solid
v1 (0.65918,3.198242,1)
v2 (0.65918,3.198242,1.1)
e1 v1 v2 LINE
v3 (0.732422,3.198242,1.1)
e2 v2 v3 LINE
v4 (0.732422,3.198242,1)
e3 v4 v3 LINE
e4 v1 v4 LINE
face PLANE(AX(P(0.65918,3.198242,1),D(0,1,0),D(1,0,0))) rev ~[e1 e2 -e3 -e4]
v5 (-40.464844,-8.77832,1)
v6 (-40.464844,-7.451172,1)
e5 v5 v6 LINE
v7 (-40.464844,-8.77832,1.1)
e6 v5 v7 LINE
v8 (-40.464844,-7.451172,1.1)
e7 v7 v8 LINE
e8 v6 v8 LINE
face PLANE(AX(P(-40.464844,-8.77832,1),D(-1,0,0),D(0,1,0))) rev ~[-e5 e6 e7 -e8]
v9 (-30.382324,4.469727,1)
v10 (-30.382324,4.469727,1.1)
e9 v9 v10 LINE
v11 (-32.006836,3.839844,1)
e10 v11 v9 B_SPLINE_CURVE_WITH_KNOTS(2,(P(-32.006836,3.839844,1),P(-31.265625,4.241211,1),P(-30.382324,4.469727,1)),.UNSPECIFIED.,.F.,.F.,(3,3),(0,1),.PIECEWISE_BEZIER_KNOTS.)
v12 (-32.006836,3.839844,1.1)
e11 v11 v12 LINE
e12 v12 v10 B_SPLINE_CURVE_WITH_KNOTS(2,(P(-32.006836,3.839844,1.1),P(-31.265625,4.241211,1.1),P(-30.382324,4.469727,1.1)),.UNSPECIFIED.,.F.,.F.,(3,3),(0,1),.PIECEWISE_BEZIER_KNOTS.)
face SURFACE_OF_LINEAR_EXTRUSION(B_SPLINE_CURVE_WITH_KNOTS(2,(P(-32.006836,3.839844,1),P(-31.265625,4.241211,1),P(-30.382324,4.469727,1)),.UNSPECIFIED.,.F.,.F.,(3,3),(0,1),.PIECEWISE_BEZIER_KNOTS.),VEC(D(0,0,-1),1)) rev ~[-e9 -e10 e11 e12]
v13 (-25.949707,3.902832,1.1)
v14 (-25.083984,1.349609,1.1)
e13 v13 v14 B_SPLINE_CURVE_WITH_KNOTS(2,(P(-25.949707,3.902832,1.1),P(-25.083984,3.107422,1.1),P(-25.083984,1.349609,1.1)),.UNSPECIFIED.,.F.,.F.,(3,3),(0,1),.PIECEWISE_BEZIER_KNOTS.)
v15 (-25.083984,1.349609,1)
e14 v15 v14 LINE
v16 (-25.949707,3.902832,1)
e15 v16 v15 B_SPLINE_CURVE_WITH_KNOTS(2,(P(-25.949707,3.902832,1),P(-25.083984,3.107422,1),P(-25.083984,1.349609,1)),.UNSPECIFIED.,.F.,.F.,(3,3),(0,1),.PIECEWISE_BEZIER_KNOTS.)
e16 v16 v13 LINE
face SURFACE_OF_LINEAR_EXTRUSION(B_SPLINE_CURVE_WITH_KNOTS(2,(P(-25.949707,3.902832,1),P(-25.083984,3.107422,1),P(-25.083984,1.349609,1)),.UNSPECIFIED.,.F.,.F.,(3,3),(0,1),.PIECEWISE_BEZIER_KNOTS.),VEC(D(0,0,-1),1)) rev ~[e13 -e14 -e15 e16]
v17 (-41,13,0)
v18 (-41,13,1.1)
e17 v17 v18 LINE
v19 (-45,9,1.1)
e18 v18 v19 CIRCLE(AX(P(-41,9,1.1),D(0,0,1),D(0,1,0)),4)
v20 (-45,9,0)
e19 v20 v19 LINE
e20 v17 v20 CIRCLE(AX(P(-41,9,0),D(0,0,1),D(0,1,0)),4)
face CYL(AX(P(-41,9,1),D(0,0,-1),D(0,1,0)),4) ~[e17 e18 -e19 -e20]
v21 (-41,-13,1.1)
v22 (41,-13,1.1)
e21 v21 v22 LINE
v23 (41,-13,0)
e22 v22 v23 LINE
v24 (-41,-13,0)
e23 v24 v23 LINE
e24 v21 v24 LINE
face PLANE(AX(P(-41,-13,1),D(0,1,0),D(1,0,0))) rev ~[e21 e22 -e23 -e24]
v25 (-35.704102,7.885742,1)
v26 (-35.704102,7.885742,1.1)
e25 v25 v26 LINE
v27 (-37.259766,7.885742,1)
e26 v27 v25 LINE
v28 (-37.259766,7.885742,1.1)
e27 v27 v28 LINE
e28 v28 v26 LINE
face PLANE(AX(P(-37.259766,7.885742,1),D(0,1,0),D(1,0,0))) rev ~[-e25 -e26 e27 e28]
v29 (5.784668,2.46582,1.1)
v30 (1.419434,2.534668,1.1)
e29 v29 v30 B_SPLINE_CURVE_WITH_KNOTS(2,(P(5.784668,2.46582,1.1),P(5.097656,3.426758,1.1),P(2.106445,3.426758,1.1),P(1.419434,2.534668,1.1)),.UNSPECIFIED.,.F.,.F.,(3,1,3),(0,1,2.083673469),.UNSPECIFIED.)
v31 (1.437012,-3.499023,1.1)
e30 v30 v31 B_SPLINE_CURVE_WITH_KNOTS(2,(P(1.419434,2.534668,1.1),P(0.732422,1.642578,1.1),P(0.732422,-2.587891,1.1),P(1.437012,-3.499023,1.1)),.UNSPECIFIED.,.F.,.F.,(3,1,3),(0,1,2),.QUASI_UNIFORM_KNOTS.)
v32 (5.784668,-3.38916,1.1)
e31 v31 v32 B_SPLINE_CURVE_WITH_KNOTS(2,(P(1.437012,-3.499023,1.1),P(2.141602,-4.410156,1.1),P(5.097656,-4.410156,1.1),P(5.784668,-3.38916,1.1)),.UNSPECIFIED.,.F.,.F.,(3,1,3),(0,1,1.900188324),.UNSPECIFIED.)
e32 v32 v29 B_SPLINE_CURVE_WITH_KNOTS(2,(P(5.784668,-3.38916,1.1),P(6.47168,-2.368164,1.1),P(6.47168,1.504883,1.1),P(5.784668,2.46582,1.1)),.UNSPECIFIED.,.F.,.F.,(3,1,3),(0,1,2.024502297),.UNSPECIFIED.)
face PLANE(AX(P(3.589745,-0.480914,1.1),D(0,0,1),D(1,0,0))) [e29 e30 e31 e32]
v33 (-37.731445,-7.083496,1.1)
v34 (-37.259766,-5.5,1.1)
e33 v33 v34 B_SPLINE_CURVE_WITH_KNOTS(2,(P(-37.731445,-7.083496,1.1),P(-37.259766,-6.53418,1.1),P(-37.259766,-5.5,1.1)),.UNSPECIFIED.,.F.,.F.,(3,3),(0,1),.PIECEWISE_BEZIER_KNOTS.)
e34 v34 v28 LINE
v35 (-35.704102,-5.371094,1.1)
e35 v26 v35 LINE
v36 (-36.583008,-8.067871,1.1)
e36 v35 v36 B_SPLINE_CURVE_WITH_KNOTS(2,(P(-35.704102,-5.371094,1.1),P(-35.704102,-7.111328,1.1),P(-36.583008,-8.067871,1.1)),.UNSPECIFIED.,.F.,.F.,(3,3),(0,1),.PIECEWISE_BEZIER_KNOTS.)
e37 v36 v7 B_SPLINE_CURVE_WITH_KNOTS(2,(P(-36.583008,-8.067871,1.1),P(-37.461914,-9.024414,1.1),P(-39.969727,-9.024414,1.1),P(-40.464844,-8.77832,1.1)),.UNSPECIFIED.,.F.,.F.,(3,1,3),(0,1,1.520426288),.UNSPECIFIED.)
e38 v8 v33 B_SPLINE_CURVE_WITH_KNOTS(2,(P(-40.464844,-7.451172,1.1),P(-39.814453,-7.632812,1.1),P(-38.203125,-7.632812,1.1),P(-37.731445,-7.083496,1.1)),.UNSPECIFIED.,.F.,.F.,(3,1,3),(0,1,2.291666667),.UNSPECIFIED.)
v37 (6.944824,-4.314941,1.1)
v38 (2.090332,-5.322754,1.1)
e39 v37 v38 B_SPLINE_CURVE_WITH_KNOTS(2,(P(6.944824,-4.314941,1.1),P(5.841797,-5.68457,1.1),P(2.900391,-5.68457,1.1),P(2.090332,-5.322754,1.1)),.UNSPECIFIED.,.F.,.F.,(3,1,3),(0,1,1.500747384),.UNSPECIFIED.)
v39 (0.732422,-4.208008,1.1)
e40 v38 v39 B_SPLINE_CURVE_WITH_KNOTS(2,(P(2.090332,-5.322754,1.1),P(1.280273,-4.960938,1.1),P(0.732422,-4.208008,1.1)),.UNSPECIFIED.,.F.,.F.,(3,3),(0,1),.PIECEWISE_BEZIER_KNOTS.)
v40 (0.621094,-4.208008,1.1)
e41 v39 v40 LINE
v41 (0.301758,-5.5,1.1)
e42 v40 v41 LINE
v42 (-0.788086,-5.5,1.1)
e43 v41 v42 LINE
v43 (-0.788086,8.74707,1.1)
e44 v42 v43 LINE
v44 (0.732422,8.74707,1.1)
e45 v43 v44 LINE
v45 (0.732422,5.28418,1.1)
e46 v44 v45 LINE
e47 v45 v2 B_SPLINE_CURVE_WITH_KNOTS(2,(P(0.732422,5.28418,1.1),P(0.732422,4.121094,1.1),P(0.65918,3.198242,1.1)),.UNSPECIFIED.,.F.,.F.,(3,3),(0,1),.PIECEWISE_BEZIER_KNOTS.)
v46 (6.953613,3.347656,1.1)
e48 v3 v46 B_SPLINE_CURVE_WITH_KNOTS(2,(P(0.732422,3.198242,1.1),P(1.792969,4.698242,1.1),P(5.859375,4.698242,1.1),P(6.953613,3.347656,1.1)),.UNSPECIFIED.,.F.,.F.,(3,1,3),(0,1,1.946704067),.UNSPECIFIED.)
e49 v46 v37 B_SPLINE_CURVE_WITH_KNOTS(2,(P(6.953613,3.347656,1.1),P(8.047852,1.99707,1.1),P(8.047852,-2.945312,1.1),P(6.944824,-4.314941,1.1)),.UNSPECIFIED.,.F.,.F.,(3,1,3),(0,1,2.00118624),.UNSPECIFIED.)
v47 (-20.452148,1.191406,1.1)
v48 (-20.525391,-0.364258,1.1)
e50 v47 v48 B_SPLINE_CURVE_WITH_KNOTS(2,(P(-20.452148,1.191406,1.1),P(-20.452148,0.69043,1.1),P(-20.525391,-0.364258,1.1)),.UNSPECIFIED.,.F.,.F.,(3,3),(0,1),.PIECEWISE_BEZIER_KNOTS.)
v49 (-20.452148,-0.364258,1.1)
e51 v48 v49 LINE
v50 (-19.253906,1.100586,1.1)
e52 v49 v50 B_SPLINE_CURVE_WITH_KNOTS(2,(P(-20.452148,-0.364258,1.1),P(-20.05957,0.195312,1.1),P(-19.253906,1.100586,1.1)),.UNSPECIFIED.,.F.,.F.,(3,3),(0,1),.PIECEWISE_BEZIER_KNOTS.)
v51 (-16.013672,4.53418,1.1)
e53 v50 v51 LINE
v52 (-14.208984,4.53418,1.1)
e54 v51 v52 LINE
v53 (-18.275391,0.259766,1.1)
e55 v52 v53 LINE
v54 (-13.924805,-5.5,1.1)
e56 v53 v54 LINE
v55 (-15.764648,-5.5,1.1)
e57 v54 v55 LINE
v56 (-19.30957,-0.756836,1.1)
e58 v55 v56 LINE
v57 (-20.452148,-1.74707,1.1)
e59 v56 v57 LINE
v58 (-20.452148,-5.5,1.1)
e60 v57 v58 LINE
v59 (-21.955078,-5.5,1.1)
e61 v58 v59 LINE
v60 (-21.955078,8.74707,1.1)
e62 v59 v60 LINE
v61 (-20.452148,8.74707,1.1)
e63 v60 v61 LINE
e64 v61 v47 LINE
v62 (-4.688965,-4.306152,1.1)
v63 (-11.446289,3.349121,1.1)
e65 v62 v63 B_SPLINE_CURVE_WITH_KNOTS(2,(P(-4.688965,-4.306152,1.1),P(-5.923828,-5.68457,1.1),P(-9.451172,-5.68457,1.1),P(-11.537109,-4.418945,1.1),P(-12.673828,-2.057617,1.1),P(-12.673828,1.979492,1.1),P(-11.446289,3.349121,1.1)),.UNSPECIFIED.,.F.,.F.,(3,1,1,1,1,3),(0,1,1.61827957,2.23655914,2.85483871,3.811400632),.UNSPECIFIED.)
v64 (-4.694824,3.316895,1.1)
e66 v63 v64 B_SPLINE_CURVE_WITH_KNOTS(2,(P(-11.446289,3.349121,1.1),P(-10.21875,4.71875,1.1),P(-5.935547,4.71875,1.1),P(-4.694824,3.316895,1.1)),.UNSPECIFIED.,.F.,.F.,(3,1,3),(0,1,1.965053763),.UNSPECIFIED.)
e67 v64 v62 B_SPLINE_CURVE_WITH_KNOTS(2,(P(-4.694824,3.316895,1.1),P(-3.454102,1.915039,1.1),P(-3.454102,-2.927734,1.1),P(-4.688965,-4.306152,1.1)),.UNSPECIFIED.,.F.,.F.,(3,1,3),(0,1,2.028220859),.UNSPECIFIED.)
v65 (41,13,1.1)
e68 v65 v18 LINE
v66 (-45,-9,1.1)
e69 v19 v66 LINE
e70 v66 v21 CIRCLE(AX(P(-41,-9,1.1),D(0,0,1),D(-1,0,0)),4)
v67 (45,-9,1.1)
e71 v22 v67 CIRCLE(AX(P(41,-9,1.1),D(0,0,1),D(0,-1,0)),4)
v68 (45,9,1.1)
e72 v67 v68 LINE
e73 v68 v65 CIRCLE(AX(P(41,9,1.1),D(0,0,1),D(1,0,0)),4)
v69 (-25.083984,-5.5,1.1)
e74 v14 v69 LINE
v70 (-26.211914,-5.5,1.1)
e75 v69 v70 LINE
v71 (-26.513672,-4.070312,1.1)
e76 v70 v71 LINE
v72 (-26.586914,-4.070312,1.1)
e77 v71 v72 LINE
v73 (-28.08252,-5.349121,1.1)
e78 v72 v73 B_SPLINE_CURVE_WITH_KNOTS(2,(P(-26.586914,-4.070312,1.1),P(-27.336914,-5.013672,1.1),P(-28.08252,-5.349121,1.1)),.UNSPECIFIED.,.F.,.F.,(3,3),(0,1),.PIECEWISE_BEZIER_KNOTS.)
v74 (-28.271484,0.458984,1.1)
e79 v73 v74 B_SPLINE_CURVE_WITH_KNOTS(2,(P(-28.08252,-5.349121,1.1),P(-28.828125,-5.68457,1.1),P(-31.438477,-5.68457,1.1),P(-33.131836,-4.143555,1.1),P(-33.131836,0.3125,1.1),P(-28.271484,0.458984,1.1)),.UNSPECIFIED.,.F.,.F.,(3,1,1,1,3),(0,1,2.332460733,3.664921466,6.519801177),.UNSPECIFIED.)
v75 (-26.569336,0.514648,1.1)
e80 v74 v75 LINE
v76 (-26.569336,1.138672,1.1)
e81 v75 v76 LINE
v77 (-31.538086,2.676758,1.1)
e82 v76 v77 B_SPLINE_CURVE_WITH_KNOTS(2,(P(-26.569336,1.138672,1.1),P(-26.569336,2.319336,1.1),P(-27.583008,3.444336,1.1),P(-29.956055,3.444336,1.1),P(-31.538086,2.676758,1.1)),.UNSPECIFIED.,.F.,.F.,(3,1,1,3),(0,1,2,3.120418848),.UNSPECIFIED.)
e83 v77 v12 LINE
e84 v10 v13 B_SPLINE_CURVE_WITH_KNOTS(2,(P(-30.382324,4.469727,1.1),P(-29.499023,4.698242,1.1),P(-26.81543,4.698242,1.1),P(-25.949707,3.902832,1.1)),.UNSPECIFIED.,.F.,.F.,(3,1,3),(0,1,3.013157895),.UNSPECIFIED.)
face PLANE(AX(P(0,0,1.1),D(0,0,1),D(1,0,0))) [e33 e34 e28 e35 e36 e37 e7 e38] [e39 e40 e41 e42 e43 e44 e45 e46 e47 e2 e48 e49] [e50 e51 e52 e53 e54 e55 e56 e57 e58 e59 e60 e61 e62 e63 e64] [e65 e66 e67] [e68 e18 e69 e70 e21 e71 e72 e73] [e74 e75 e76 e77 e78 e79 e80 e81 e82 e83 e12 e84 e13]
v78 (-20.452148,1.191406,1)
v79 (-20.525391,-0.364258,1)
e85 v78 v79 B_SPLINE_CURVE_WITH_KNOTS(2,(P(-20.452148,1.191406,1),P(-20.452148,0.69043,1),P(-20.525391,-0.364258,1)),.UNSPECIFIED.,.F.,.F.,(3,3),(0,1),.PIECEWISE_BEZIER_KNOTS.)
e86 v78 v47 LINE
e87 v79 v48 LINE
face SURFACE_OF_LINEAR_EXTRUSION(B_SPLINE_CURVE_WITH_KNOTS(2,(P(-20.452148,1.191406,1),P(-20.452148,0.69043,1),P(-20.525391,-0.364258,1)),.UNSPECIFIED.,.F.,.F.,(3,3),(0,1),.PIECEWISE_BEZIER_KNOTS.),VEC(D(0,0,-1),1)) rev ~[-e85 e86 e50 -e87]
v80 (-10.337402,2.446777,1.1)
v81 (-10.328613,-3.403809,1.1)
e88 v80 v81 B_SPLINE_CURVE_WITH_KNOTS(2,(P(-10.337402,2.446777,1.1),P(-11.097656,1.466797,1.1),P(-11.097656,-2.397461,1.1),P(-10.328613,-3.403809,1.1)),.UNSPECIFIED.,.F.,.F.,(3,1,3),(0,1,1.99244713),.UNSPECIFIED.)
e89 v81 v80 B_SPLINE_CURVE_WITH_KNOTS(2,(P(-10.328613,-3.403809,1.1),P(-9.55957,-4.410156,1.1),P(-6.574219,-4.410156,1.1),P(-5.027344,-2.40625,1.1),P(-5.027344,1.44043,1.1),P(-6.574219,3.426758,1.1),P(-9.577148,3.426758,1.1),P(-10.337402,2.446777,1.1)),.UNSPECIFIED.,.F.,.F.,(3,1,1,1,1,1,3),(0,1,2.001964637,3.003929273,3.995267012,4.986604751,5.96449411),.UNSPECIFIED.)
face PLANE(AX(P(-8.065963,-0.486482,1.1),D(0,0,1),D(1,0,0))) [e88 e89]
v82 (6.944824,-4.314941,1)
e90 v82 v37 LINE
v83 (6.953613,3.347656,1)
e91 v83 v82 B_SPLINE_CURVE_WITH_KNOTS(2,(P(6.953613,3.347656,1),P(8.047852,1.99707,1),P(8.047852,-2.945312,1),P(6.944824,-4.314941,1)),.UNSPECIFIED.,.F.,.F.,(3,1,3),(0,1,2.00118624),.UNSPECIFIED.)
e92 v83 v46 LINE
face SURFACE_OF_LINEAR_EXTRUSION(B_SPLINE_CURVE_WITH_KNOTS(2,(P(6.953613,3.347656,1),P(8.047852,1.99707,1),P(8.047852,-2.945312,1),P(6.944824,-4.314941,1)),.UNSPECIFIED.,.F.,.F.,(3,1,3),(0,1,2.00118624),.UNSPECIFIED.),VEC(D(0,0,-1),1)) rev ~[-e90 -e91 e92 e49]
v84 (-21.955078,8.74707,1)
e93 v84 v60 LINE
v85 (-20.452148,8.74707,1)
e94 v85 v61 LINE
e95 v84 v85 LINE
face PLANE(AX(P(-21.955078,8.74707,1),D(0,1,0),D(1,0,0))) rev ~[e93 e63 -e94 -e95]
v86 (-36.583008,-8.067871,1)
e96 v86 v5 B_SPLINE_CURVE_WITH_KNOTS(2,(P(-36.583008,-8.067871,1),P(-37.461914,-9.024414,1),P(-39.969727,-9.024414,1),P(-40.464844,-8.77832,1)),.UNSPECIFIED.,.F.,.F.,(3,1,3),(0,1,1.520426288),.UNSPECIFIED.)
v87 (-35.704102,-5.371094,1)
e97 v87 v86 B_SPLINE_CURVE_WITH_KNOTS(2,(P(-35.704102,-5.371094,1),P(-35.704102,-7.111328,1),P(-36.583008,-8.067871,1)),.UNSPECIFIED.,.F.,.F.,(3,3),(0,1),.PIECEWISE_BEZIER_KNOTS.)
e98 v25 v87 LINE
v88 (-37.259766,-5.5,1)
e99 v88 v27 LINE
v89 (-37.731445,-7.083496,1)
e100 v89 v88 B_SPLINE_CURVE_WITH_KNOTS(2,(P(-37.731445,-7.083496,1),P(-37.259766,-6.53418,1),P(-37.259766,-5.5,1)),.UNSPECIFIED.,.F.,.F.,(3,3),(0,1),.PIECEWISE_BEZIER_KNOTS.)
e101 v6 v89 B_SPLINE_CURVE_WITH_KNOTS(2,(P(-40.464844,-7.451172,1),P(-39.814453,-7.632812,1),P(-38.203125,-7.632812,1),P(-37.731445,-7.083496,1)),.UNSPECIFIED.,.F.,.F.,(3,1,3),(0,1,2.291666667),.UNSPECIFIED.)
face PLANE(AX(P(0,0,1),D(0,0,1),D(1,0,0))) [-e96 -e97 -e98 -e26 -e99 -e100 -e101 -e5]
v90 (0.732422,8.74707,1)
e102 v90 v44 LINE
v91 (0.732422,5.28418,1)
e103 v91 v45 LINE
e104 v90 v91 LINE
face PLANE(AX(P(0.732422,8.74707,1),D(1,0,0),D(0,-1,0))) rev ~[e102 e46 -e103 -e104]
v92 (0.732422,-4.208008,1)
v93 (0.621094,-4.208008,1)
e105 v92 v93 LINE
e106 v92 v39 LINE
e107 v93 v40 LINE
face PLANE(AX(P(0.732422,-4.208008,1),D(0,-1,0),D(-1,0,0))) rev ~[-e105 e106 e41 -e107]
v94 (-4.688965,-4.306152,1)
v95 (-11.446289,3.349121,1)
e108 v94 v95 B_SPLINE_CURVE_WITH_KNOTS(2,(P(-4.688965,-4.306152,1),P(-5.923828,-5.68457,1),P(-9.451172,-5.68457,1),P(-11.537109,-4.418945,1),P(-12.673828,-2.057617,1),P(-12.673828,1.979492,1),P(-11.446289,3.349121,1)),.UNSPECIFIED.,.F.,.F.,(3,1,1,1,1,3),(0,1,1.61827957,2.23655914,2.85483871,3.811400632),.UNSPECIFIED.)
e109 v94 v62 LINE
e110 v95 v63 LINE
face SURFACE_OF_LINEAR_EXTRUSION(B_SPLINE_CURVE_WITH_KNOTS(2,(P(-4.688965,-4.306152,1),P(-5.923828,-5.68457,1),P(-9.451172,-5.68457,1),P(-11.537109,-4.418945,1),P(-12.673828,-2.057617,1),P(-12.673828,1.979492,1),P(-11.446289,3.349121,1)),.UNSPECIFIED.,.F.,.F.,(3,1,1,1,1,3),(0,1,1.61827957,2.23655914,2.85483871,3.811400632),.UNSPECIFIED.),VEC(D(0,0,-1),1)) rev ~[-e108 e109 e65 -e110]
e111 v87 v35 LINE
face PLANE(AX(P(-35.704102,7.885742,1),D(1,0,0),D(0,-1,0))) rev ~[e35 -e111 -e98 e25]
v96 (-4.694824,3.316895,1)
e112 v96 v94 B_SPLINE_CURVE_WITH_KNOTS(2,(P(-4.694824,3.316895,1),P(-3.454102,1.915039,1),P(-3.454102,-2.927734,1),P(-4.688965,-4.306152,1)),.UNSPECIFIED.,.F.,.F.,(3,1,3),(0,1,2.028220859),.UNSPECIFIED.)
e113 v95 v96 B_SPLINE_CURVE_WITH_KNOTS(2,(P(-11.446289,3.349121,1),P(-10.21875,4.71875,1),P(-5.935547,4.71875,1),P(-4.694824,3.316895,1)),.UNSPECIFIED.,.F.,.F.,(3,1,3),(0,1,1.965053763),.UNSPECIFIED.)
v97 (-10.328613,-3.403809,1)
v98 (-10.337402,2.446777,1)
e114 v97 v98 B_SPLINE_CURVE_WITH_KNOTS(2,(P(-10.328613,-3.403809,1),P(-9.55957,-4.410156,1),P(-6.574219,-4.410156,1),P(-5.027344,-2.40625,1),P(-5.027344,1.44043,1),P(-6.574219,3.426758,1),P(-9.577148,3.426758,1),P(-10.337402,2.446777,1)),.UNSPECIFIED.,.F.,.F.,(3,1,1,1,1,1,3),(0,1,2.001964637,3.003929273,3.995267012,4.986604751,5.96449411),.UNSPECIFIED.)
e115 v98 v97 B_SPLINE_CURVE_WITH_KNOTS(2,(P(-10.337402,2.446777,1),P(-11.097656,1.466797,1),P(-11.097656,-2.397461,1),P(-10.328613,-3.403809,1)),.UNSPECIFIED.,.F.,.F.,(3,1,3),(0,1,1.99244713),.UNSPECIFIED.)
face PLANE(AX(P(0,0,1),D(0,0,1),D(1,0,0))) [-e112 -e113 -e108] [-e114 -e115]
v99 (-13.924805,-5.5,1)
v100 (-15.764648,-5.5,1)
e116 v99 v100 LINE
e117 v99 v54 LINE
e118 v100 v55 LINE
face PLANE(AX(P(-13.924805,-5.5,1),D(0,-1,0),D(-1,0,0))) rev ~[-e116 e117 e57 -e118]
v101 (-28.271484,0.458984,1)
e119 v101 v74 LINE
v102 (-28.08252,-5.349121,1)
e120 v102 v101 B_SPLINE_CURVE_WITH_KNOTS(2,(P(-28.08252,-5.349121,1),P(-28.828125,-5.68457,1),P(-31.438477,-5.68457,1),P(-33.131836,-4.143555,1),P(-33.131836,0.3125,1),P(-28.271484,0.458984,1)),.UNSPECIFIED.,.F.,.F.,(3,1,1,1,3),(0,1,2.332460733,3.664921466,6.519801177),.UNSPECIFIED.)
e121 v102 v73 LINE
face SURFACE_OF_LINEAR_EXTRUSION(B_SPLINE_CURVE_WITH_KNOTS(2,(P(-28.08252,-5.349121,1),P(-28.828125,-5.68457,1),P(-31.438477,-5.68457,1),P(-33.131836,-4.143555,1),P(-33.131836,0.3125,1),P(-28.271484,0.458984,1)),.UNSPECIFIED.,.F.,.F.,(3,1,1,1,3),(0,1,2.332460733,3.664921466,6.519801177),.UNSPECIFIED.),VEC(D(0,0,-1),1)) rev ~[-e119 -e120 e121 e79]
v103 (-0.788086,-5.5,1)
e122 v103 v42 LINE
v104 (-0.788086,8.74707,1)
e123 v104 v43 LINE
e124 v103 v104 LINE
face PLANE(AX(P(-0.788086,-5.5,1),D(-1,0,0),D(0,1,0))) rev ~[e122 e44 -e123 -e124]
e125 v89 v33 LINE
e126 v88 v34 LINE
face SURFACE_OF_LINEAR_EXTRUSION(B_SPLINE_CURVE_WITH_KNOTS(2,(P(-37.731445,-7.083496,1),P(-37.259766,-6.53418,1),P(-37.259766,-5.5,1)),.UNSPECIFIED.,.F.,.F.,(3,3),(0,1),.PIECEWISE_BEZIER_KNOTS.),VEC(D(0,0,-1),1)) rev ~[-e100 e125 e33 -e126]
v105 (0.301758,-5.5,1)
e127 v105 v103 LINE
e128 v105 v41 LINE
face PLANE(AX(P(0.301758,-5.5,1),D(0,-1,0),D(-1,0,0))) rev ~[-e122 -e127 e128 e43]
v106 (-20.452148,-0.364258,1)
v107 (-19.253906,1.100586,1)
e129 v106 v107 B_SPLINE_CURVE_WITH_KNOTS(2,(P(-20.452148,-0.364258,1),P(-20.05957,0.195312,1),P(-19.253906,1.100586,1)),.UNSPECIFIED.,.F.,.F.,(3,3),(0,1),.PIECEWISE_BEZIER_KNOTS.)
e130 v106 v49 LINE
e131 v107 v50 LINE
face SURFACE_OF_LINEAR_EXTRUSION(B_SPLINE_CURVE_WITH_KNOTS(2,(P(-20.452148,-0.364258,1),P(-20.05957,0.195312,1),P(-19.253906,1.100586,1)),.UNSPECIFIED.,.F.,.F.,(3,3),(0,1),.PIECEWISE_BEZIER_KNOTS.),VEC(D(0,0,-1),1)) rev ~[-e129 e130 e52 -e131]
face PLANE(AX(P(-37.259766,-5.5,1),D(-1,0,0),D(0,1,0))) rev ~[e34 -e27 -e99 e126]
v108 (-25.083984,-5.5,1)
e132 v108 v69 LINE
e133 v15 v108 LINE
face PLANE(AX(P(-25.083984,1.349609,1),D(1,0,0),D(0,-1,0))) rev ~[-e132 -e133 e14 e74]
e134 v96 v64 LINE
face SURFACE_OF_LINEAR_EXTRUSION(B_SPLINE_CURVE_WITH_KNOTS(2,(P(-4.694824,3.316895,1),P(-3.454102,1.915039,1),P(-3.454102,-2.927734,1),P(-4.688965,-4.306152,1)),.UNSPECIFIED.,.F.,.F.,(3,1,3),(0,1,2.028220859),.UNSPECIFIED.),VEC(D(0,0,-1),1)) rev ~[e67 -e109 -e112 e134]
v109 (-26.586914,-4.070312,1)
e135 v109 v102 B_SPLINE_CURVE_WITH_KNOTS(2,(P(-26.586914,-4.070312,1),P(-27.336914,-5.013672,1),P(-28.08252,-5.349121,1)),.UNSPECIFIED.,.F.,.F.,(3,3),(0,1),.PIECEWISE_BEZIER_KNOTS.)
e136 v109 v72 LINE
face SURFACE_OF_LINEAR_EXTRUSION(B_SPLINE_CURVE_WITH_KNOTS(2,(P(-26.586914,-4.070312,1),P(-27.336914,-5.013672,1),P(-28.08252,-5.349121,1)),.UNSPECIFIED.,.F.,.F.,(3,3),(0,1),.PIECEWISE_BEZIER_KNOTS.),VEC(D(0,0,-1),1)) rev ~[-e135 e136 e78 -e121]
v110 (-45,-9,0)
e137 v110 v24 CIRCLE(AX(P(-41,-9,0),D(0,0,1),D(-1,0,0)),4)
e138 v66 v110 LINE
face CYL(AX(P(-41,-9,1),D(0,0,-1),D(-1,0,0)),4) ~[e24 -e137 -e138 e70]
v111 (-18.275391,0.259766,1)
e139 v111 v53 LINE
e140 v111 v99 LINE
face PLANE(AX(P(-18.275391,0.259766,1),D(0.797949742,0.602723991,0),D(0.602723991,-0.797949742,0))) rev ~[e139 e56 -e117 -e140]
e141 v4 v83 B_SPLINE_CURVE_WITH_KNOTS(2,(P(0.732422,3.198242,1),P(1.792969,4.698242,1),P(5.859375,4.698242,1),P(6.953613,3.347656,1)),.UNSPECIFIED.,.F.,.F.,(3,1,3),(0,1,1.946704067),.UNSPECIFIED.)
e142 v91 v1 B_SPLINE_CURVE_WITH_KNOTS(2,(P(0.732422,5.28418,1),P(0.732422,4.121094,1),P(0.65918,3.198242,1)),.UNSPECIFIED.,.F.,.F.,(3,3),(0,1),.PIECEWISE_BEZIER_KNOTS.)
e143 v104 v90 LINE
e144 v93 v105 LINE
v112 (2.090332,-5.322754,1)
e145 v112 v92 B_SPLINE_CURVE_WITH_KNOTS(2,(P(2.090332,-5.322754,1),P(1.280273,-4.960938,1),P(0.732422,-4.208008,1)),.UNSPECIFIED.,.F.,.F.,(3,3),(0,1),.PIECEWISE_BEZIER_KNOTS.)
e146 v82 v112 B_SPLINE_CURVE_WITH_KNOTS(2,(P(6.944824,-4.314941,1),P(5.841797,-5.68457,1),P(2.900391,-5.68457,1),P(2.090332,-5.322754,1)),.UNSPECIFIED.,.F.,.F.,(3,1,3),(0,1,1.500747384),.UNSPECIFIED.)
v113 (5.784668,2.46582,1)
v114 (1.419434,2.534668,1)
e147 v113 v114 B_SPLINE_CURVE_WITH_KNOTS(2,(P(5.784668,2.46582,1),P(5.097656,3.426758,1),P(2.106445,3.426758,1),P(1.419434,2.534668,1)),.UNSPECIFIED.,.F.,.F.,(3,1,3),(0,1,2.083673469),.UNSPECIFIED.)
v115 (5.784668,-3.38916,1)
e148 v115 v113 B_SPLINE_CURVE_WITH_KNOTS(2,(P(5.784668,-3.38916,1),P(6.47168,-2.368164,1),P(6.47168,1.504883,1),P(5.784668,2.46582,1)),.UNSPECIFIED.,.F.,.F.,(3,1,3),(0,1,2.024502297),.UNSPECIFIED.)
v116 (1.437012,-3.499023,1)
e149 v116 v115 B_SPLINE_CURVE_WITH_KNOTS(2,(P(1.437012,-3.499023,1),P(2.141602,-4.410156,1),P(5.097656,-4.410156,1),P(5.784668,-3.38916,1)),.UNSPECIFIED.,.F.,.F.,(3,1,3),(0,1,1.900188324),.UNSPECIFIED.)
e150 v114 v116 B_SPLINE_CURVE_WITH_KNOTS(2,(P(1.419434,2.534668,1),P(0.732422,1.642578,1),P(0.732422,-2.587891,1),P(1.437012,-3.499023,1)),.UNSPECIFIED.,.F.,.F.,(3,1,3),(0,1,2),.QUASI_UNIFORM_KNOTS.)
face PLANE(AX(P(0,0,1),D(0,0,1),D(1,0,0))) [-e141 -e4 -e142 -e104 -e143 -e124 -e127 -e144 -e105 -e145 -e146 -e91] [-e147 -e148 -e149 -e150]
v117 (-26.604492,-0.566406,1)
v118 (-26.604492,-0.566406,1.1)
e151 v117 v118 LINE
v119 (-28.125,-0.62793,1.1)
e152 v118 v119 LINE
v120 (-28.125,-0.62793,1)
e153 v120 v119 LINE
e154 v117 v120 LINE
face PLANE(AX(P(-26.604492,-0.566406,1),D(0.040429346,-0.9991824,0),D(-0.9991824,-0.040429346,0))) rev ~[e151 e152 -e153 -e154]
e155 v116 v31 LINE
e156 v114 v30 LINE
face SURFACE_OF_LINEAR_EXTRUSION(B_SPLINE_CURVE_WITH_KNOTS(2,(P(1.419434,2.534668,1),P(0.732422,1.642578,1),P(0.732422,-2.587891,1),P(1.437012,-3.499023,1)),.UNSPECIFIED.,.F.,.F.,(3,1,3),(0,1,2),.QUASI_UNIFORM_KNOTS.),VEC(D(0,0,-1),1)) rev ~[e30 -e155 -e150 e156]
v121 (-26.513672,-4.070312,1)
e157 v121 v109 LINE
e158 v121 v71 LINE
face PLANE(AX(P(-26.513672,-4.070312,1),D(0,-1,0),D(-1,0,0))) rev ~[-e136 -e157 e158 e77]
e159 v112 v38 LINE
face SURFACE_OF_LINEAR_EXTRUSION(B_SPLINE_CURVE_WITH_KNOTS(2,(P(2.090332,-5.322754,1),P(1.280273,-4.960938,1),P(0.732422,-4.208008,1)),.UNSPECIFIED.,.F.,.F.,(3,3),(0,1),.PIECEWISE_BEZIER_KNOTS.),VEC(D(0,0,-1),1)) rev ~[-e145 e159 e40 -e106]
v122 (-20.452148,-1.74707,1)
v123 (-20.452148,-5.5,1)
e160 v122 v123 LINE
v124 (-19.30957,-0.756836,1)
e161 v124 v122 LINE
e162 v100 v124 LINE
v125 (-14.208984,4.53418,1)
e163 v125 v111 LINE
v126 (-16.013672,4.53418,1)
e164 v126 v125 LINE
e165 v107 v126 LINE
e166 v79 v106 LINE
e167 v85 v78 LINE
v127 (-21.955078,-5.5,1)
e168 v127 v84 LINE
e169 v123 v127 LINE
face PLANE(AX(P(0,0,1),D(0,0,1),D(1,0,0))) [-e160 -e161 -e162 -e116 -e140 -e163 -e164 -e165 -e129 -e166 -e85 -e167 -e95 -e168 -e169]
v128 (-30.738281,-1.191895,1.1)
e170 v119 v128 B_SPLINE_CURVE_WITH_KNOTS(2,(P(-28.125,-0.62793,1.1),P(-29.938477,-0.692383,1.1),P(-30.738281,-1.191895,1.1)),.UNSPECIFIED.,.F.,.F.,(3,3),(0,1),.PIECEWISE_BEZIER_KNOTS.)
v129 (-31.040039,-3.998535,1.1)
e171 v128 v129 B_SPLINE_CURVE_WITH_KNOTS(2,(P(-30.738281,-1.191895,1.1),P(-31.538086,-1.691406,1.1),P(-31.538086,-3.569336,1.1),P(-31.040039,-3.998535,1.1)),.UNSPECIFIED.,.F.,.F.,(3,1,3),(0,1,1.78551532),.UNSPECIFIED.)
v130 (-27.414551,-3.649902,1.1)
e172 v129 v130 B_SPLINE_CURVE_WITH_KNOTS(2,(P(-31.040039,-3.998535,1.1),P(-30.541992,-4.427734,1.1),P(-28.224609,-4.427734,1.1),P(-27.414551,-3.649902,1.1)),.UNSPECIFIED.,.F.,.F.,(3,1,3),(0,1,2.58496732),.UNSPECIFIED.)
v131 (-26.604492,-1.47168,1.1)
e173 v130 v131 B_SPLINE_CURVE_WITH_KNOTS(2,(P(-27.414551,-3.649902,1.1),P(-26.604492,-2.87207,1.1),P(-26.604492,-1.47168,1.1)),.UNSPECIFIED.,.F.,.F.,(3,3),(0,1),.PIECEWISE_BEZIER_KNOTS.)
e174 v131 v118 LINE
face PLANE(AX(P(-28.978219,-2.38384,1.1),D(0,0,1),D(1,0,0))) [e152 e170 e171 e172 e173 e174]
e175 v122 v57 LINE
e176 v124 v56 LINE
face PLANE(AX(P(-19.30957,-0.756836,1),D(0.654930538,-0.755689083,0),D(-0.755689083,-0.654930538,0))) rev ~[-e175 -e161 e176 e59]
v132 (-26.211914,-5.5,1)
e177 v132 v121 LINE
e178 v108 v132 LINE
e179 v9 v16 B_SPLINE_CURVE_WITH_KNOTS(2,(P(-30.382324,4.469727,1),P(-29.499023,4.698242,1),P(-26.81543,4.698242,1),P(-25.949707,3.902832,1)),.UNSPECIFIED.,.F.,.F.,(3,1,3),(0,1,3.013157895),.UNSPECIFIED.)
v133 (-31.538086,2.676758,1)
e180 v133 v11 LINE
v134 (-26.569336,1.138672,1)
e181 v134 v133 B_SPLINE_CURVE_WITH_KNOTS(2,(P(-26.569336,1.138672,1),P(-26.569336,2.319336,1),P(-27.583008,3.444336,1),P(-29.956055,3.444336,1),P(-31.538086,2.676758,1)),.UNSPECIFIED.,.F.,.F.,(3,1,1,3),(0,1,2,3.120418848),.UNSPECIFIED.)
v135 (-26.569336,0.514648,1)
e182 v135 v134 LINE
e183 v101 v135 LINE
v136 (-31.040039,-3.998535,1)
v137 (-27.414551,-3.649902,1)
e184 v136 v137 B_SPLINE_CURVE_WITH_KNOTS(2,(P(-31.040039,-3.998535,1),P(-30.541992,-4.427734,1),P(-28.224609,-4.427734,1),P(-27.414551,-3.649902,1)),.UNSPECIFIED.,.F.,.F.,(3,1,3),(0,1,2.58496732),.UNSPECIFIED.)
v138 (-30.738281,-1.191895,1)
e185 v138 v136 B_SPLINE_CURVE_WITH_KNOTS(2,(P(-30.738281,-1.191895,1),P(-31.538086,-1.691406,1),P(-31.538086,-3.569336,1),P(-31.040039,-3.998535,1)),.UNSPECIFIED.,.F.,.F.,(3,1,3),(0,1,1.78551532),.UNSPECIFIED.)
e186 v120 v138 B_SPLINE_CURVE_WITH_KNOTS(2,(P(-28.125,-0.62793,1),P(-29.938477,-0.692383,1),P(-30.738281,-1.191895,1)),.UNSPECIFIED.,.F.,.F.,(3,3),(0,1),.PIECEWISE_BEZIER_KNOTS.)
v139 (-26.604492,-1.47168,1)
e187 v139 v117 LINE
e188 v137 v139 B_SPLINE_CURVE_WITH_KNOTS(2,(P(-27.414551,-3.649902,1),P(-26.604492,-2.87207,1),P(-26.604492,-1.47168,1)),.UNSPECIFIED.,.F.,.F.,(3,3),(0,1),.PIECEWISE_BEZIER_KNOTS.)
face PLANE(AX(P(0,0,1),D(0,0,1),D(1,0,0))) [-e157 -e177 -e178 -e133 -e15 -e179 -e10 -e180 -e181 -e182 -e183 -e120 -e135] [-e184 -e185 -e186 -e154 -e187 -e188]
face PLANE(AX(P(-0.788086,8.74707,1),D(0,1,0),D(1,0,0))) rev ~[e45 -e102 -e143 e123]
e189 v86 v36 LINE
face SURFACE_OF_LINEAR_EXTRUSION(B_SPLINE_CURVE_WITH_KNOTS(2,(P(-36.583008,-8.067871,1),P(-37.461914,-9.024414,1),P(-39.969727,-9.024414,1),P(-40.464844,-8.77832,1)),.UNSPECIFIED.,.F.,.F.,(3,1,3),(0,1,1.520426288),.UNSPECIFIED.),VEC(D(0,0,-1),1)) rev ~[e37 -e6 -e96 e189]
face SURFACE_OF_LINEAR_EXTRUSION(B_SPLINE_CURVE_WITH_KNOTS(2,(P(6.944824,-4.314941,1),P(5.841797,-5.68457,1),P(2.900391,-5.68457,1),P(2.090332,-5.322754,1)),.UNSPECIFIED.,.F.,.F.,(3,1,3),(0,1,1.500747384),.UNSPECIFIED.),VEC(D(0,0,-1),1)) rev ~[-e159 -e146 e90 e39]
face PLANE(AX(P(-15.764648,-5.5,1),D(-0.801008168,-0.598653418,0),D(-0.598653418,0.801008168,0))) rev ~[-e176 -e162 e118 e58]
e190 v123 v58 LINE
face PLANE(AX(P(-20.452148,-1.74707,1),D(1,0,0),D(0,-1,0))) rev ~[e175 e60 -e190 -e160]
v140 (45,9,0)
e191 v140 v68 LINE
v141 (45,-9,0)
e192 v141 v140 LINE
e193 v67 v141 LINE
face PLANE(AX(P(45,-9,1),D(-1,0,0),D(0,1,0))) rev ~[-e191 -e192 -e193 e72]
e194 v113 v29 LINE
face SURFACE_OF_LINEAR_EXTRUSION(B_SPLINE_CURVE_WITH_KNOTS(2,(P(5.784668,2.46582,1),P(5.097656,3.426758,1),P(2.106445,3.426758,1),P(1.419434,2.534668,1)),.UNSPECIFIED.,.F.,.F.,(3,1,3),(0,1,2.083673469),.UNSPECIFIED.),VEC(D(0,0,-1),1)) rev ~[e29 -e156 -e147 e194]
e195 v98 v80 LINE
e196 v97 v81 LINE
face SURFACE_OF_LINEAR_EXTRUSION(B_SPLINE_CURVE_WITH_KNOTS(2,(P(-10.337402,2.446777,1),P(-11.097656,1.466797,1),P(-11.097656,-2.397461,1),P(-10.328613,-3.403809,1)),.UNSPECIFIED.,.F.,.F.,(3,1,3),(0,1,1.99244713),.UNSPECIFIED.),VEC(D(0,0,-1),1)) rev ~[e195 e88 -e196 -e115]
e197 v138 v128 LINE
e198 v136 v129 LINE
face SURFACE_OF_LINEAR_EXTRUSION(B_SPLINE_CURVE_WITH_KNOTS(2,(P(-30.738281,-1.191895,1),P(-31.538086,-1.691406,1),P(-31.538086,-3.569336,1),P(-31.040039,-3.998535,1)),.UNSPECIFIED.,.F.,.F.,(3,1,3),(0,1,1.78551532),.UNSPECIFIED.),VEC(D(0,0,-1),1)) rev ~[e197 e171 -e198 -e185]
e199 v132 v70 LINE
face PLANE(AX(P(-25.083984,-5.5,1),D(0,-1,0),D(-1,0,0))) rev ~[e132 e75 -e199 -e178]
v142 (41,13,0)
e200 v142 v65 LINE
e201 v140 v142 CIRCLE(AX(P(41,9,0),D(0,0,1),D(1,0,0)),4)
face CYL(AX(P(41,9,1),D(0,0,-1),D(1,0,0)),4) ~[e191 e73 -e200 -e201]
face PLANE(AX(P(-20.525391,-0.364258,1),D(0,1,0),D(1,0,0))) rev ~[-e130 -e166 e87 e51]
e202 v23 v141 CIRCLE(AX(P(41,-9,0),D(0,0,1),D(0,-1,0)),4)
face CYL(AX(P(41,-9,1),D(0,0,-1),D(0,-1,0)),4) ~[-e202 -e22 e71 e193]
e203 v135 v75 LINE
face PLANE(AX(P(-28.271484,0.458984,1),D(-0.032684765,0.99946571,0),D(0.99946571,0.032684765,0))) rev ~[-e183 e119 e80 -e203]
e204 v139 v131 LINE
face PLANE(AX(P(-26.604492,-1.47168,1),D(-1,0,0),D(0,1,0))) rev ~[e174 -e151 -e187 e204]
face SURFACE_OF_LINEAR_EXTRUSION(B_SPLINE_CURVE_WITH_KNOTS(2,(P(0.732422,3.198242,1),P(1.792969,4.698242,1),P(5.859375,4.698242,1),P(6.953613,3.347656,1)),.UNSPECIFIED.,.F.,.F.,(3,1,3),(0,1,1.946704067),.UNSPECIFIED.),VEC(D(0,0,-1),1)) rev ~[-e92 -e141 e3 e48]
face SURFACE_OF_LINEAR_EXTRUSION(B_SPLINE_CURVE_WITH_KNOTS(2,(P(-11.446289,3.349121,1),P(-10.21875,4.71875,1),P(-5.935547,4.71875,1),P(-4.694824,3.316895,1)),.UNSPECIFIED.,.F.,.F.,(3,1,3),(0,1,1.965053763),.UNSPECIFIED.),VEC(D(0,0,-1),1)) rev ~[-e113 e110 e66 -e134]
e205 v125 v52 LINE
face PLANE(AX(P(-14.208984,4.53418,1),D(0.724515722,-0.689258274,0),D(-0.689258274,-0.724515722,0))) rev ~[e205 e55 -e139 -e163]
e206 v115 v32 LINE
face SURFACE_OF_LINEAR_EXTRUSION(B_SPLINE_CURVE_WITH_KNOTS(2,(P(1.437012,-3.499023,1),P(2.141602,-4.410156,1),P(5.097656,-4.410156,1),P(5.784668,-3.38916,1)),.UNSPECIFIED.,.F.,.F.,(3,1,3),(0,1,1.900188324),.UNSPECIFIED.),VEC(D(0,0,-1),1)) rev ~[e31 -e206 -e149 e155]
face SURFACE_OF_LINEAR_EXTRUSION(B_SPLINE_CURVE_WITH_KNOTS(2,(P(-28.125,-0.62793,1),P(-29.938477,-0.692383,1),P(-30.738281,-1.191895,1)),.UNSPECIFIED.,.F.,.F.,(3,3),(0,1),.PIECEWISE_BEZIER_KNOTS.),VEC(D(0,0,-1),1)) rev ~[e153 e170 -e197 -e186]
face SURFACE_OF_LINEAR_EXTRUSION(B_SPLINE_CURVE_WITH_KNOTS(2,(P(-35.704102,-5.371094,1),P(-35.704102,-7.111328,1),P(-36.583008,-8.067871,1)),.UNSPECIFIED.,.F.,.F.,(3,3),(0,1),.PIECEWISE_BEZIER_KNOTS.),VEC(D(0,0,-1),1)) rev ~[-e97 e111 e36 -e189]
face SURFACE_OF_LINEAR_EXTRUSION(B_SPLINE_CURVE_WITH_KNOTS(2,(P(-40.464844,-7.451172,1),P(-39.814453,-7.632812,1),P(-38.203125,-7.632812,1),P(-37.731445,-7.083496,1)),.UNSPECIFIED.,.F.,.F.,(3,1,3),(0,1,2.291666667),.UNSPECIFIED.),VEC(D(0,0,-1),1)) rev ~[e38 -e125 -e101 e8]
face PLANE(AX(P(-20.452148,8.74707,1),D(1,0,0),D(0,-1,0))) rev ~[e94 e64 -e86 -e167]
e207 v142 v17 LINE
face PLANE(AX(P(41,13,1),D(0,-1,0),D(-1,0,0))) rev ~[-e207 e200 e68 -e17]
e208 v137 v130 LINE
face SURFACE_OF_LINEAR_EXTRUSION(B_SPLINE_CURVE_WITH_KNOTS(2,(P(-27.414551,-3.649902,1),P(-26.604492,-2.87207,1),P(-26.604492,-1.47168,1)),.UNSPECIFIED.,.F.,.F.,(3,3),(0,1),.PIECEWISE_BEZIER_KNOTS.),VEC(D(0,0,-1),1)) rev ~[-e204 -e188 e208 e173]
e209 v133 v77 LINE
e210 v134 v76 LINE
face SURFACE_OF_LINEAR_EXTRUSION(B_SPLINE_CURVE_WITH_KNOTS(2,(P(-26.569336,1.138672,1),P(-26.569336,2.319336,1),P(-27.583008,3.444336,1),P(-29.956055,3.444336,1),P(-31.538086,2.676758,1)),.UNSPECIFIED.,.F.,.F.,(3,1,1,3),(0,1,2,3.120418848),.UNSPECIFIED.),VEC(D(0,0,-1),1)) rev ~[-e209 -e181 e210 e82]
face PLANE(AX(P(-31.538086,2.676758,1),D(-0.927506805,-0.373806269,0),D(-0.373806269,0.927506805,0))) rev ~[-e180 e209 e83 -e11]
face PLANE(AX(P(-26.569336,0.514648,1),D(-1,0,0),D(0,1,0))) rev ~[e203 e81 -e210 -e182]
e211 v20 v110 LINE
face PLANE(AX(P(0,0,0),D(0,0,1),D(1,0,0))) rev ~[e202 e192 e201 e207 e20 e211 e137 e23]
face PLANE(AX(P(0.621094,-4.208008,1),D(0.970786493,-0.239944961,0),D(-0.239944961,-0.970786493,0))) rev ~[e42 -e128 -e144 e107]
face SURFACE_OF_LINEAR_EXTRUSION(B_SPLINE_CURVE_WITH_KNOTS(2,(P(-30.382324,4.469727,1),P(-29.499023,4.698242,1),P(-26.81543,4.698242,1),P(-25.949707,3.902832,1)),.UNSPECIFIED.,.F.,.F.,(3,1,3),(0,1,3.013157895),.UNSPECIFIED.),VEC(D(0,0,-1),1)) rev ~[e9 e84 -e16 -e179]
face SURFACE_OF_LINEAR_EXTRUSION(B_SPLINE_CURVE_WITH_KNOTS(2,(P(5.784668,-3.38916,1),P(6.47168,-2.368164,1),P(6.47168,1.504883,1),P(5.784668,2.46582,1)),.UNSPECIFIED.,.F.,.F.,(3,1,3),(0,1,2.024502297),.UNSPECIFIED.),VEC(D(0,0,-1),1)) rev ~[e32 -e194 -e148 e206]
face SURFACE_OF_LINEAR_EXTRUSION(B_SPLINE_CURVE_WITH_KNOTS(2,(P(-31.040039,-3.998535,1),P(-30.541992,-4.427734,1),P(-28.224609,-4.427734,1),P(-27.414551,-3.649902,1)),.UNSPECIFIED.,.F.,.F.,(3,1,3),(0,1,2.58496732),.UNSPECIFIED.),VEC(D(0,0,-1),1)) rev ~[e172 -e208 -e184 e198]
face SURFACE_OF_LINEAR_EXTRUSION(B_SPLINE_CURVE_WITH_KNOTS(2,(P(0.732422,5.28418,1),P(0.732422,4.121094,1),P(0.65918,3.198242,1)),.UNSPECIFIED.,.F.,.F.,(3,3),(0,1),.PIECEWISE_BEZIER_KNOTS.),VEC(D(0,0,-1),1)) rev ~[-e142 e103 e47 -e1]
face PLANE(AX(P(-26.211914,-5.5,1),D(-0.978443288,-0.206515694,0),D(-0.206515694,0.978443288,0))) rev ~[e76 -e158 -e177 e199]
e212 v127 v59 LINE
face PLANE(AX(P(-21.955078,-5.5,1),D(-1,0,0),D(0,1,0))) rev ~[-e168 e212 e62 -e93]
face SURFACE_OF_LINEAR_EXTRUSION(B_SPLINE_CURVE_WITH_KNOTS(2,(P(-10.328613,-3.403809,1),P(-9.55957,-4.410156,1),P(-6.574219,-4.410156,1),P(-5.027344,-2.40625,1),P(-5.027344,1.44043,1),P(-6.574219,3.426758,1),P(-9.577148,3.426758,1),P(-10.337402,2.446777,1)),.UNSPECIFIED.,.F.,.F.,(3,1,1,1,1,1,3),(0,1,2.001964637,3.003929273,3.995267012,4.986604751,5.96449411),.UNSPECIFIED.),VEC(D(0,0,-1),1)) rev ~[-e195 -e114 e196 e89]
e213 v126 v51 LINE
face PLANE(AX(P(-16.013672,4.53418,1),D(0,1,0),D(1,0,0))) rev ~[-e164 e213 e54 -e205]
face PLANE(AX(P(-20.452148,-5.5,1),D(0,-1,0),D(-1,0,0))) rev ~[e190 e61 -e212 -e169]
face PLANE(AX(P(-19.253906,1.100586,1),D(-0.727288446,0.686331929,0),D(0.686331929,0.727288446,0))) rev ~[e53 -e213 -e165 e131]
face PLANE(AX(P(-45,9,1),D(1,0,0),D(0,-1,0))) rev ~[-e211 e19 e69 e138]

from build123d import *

# Parameters (mm, degrees)
F1_DEPTH = 1
F3_DEPTH = 0.1


with BuildPart() as f1:
    # F0 (on Top) → F1 (new body)
    with BuildSketch(Plane.XY):
        with BuildLine():
            ThreePointArc((45, 9), (43.8284271247, 11.8284271247), (41, 13))
            Line((41, 13), (-41, 13))
            ThreePointArc((-41, 13), (-43.8284271247, 11.8284271247), (-45, 9))
            Line((-45, 9), (-45, -9))
            ThreePointArc((-45, -9), (-43.8284271247, -11.8284271247), (-41, -13))
            Line((-41, -13), (41, -13))
            ThreePointArc((41, -13), (43.8284271247, -11.8284271247), (45, -9))
            Line((45, -9), (45, 9))
        make_face()
    extrude(amount=F1_DEPTH)

    # F2 (on face) → F3 (join)
    with BuildSketch(Plane.XY.offset(1)):
        with BuildLine():
            Line((45, -9), (45, 9))
            ThreePointArc((45, 9), (43.8284271247, 11.8284271247), (41, 13))
            Line((41, 13), (-41, 13))
            ThreePointArc((-41, 13), (-43.8284271247, 11.8284271247), (-45, 9))
            Line((-45, 9), (-45, -9))
            ThreePointArc((-45, -9), (-43.8284271247, -11.8284271247), (-41, -13))
            Line((-41, -13), (41, -13))
            ThreePointArc((41, -13), (43.8284271247, -11.8284271247), (45, -9))
        make_face()
        with BuildLine():
            Line((-40, 10), (40, 10))
            ThreePointArc((40, 10), (41.4142135624, 9.4142135624), (42, 8))
            Line((42, 8), (42, -8))
            ThreePointArc((42, -8), (41.4142135624, -9.4142135624), (40, -10))
            Line((40, -10), (-40, -10))
            ThreePointArc((-40, -10), (-41.4142135624, -9.4142135624), (-42, -8))
            Line((-42, -8), (-42, 8))
            ThreePointArc((-42, 8), (-41.4142135624, 9.4142135624), (-40, 10))
        make_face(mode=Mode.SUBTRACT)
        with BuildLine():
            ThreePointArc((42, 8), (41.4142135624, 9.4142135624), (40, 10))
            Line((40, 10), (-40, 10))
            ThreePointArc((-40, 10), (-41.4142135624, 9.4142135624), (-42, 8))
            Line((-42, 8), (-42, -8))
            ThreePointArc((-42, -8), (-41.4142135624, -9.4142135624), (-40, -10))
            Line((-40, -10), (40, -10))
            ThreePointArc((40, -10), (41.4142135624, -9.4142135624), (42, -8))
            Line((42, -8), (42, 8))
        make_face()
        with BuildLine():
            add(Edge.make_bspline(
                [(-36.5830078125, -8.0678710938), (-37.4619140625, -9.0244140625), (-39.111328125, -9.0244140625)],
                knots=[0, 0, 0, 1, 1, 1], degree=2))
            add(Edge.make_bspline(
                [(-39.111328125, -9.0244140625), (-39.9697265625, -9.0244140625), (-40.46484375, -8.7783203125)],
                knots=[0, 0, 0, 1, 1, 1], degree=2))
            Line((-40.46484375, -8.7783203125), (-40.46484375, -7.451171875))
            add(Edge.make_bspline(
                [(-40.46484375, -7.451171875), (-39.814453125, -7.6328125), (-39.111328125, -7.6328125)],
                knots=[0, 0, 0, 1, 1, 1], degree=2))
            add(Edge.make_bspline(
                [(-39.111328125, -7.6328125), (-38.203125, -7.6328125), (-37.7314453125, -7.0834960938)],
                knots=[0, 0, 0, 1, 1, 1], degree=2))
            add(Edge.make_bspline(
                [(-37.7314453125, -7.0834960938), (-37.259765625, -6.5341796875), (-37.259765625, -5.5)],
                knots=[0, 0, 0, 1, 1, 1], degree=2))
            Line((-37.259765625, -5.5), (-37.259765625, 7.8857421875))
            Line((-37.259765625, 7.8857421875), (-35.7041015625, 7.8857421875))
            Line((-35.7041015625, 7.8857421875), (-35.7041015625, -5.37109375))
            add(Edge.make_bspline(
                [(-35.7041015625, -5.37109375), (-35.7041015625, -7.111328125), (-36.5830078125, -8.0678710938)],
                knots=[0, 0, 0, 1, 1, 1], degree=2))
        make_face(mode=Mode.SUBTRACT)
        with BuildLine():
            Line((-25.083984375, -5.5), (-26.2119140625, -5.5))
            Line((-26.2119140625, -5.5), (-26.513671875, -4.0703125))
            Line((-26.513671875, -4.0703125), (-26.5869140625, -4.0703125))
            add(Edge.make_bspline(
                [(-26.5869140625, -4.0703125), (-27.3369140625, -5.013671875), (-28.0825195312, -5.3491210938)],
                knots=[0, 0, 0, 1, 1, 1], degree=2))
            add(Edge.make_bspline(
                [(-28.0825195312, -5.3491210938), (-28.828125, -5.6845703125), (-29.947265625, -5.6845703125)],
                knots=[0, 0, 0, 1, 1, 1], degree=2))
            add(Edge.make_bspline(
                [(-29.947265625, -5.6845703125), (-31.4384765625, -5.6845703125), (-32.28515625, -4.9140625)],
                knots=[0, 0, 0, 1, 1, 1], degree=2))
            add(Edge.make_bspline(
                [(-32.28515625, -4.9140625), (-33.1318359375, -4.1435546875), (-33.1318359375, -2.7255859375)],
                knots=[0, 0, 0, 1, 1, 1], degree=2))
            add(Edge.make_bspline(
                [(-33.1318359375, -2.7255859375), (-33.1318359375, 0.3125), (-28.271484375, 0.458984375)],
                knots=[0, 0, 0, 1, 1, 1], degree=2))
            Line((-28.271484375, 0.458984375), (-26.5693359375, 0.5146484375))
            Line((-26.5693359375, 0.5146484375), (-26.5693359375, 1.138671875))
            add(Edge.make_bspline(
                [(-26.5693359375, 1.138671875), (-26.5693359375, 2.3193359375), (-27.076171875, 2.8818359375)],
                knots=[0, 0, 0, 1, 1, 1], degree=2))
            add(Edge.make_bspline(
                [(-27.076171875, 2.8818359375), (-27.5830078125, 3.4443359375), (-28.7021484375, 3.4443359375)],
                knots=[0, 0, 0, 1, 1, 1], degree=2))
            add(Edge.make_bspline(
                [(-28.7021484375, 3.4443359375), (-29.9560546875, 3.4443359375), (-31.5380859375, 2.6767578125)],
                knots=[0, 0, 0, 1, 1, 1], degree=2))
            Line((-31.5380859375, 2.6767578125), (-32.0068359375, 3.83984375))
            add(Edge.make_bspline(
                [(-32.0068359375, 3.83984375), (-31.265625, 4.2412109375), (-30.3823242188, 4.4697265625)],
                knots=[0, 0, 0, 1, 1, 1], degree=2))
            add(Edge.make_bspline(
                [(-30.3823242188, 4.4697265625), (-29.4990234375, 4.6982421875), (-28.6083984375, 4.6982421875)],
                knots=[0, 0, 0, 1, 1, 1], degree=2))
            add(Edge.make_bspline(
                [(-28.6083984375, 4.6982421875), (-26.8154296875, 4.6982421875), (-25.9497070312, 3.9028320312)],
                knots=[0, 0, 0, 1, 1, 1], degree=2))
            add(Edge.make_bspline(
                [(-25.9497070312, 3.9028320312), (-25.083984375, 3.107421875), (-25.083984375, 1.349609375)],
                knots=[0, 0, 0, 1, 1, 1], degree=2))
            Line((-25.083984375, 1.349609375), (-25.083984375, -5.5))
        make_face(mode=Mode.SUBTRACT)
        with BuildLine():
            add(Edge.make_bspline(
                [(-4.6948242187, 3.3168945312), (-3.4541015625, 1.9150390625), (-3.4541015625, -0.47265625)],
                knots=[0, 0, 0, 1, 1, 1], degree=2))
            add(Edge.make_bspline(
                [(-3.4541015625, -0.47265625), (-3.4541015625, -2.927734375), (-4.6889648437, -4.3061523438)],
                knots=[0, 0, 0, 1, 1, 1], degree=2))
            add(Edge.make_bspline(
                [(-4.6889648437, -4.3061523438), (-5.923828125, -5.6845703125), (-8.103515625, -5.6845703125)],
                knots=[0, 0, 0, 1, 1, 1], degree=2))
            add(Edge.make_bspline(
                [(-8.103515625, -5.6845703125), (-9.451171875, -5.6845703125), (-10.494140625, -5.0517578125)],
                knots=[0, 0, 0, 1, 1, 1], degree=2))
            add(Edge.make_bspline(
                [(-10.494140625, -5.0517578125), (-11.537109375, -4.4189453125), (-12.10546875, -3.23828125)],
                knots=[0, 0, 0, 1, 1, 1], degree=2))
            add(Edge.make_bspline(
                [(-12.10546875, -3.23828125), (-12.673828125, -2.0576171875), (-12.673828125, -0.47265625)],
                knots=[0, 0, 0, 1, 1, 1], degree=2))
            add(Edge.make_bspline(
                [(-12.673828125, -0.47265625), (-12.673828125, 1.9794921875), (-11.4462890625, 3.3491210937)],
                knots=[0, 0, 0, 1, 1, 1], degree=2))
            add(Edge.make_bspline(
                [(-11.4462890625, 3.3491210937), (-10.21875, 4.71875), (-8.0390625, 4.71875)],
                knots=[0, 0, 0, 1, 1, 1], degree=2))
            add(Edge.make_bspline(
                [(-8.0390625, 4.71875), (-5.935546875, 4.71875), (-4.6948242187, 3.3168945312)],
                knots=[0, 0, 0, 1, 1, 1], degree=2))
        make_face(mode=Mode.SUBTRACT)
        with BuildLine():
            Line((-20.525390625, -0.3642578125), (-20.4521484375, -0.3642578125))
            add(Edge.make_bspline(
                [(-20.4521484375, -0.3642578125), (-20.0595703125, 0.1953125), (-19.25390625, 1.1005859375)],
                knots=[0, 0, 0, 1, 1, 1], degree=2))
            Line((-19.25390625, 1.1005859375), (-16.013671875, 4.5341796875))
            Line((-16.013671875, 4.5341796875), (-14.208984375, 4.5341796875))
            Line((-14.208984375, 4.5341796875), (-18.275390625, 0.259765625))
            Line((-18.275390625, 0.259765625), (-13.9248046875, -5.5))
            Line((-13.9248046875, -5.5), (-15.7646484375, -5.5))
            Line((-15.7646484375, -5.5), (-19.3095703125, -0.7568359375))
            Line((-19.3095703125, -0.7568359375), (-20.4521484375, -1.7470703125))
            Line((-20.4521484375, -1.7470703125), (-20.4521484375, -5.5))
            Line((-20.4521484375, -5.5), (-21.955078125, -5.5))
            Line((-21.955078125, -5.5), (-21.955078125, 8.7470703125))
            Line((-21.955078125, 8.7470703125), (-20.4521484375, 8.7470703125))
            Line((-20.4521484375, 8.7470703125), (-20.4521484375, 1.19140625))
            add(Edge.make_bspline(
                [(-20.4521484375, 1.19140625), (-20.4521484375, 0.6904296875), (-20.525390625, -0.3642578125)],
                knots=[0, 0, 0, 1, 1, 1], degree=2))
        make_face(mode=Mode.SUBTRACT)
        with BuildLine():
            add(Edge.make_bspline(
                [(0.732421875, 3.1982421875), (1.79296875, 4.6982421875), (3.8818359375, 4.6982421875)],
                knots=[0, 0, 0, 1, 1, 1], degree=2))
            add(Edge.make_bspline(
                [(3.8818359375, 4.6982421875), (5.859375, 4.6982421875), (6.9536132813, 3.34765625)],
                knots=[0, 0, 0, 1, 1, 1], degree=2))
            add(Edge.make_bspline(
                [(6.9536132813, 3.34765625), (8.0478515625, 1.9970703125), (8.0478515625, -0.47265625)],
                knots=[0, 0, 0, 1, 1, 1], degree=2))
            add(Edge.make_bspline(
                [(8.0478515625, -0.47265625), (8.0478515625, -2.9453125), (6.9448242188, -4.3149414063)],
                knots=[0, 0, 0, 1, 1, 1], degree=2))
            add(Edge.make_bspline(
                [(6.9448242188, -4.3149414063), (5.841796875, -5.6845703125), (3.8818359375, -5.6845703125)],
                knots=[0, 0, 0, 1, 1, 1], degree=2))
            add(Edge.make_bspline(
                [(3.8818359375, -5.6845703125), (2.900390625, -5.6845703125), (2.0903320313, -5.3227539063)],
                knots=[0, 0, 0, 1, 1, 1], degree=2))
            add(Edge.make_bspline(
                [(2.0903320313, -5.3227539063), (1.2802734375, -4.9609375), (0.732421875, -4.2080078125)],
                knots=[0, 0, 0, 1, 1, 1], degree=2))
            Line((0.732421875, -4.2080078125), (0.62109375, -4.2080078125))
            Line((0.62109375, -4.2080078125), (0.3017578125, -5.5))
            Line((0.3017578125, -5.5), (-0.7880859375, -5.5))
            Line((-0.7880859375, -5.5), (-0.7880859375, 8.7470703125))
            Line((-0.7880859375, 8.7470703125), (0.732421875, 8.7470703125))
            Line((0.732421875, 8.7470703125), (0.732421875, 5.2841796875))
            add(Edge.make_bspline(
                [(0.732421875, 5.2841796875), (0.732421875, 4.12109375), (0.6591796875, 3.1982421875)],
                knots=[0, 0, 0, 1, 1, 1], degree=2))
            Line((0.6591796875, 3.1982421875), (0.732421875, 3.1982421875))
        make_face(mode=Mode.SUBTRACT)
        with BuildLine():
            add(Edge.make_bspline(
                [(-31.0400390625, -3.9985351563), (-30.5419921875, -4.427734375), (-29.6455078125, -4.427734375)],
                knots=[0, 0, 0, 1, 1, 1], degree=2))
            add(Edge.make_bspline(
                [(-29.6455078125, -4.427734375), (-28.224609375, -4.427734375), (-27.4145507812, -3.6499023438)],
                knots=[0, 0, 0, 1, 1, 1], degree=2))
            add(Edge.make_bspline(
                [(-27.4145507812, -3.6499023438), (-26.6044921875, -2.8720703125), (-26.6044921875, -1.4716796875)],
                knots=[0, 0, 0, 1, 1, 1], degree=2))
            Line((-26.6044921875, -1.4716796875), (-26.6044921875, -0.56640625))
            Line((-26.6044921875, -0.56640625), (-28.125, -0.6279296875))
            add(Edge.make_bspline(
                [(-28.125, -0.6279296875), (-29.9384765625, -0.6923828125), (-30.73828125, -1.1918945313)],
                knots=[0, 0, 0, 1, 1, 1], degree=2))
            add(Edge.make_bspline(
                [(-30.73828125, -1.1918945313), (-31.5380859375, -1.69140625), (-31.5380859375, -2.7431640625)],
                knots=[0, 0, 0, 1, 1, 1], degree=2))
            add(Edge.make_bspline(
                [(-31.5380859375, -2.7431640625), (-31.5380859375, -3.5693359375), (-31.0400390625, -3.9985351563)],
                knots=[0, 0, 0, 1, 1, 1], degree=2))
        make_face()
        with BuildLine():
            add(Edge.make_bspline(
                [(-10.3374023437, 2.4467773437), (-11.09765625, 1.466796875), (-11.09765625, -0.47265625)],
                knots=[0, 0, 0, 1, 1, 1], degree=2))
            add(Edge.make_bspline(
                [(-11.09765625, -0.47265625), (-11.09765625, -2.3974609375), (-10.3286132812, -3.4038085938)],
                knots=[0, 0, 0, 1, 1, 1], degree=2))
            add(Edge.make_bspline(
                [(-10.3286132812, -3.4038085938), (-9.5595703125, -4.41015625), (-8.068359375, -4.41015625)],
                knots=[0, 0, 0, 1, 1, 1], degree=2))
            add(Edge.make_bspline(
                [(-8.068359375, -4.41015625), (-6.57421875, -4.41015625), (-5.80078125, -3.408203125)],
                knots=[0, 0, 0, 1, 1, 1], degree=2))
            add(Edge.make_bspline(
                [(-5.80078125, -3.408203125), (-5.02734375, -2.40625), (-5.02734375, -0.47265625)],
                knots=[0, 0, 0, 1, 1, 1], degree=2))
            add(Edge.make_bspline(
                [(-5.02734375, -0.47265625), (-5.02734375, 1.4404296875), (-5.80078125, 2.43359375)],
                knots=[0, 0, 0, 1, 1, 1], degree=2))
            add(Edge.make_bspline(
                [(-5.80078125, 2.43359375), (-6.57421875, 3.4267578125), (-8.0859375, 3.4267578125)],
                knots=[0, 0, 0, 1, 1, 1], degree=2))
            add(Edge.make_bspline(
                [(-8.0859375, 3.4267578125), (-9.5771484375, 3.4267578125), (-10.3374023437, 2.4467773437)],
                knots=[0, 0, 0, 1, 1, 1], degree=2))
        make_face()
        with BuildLine():
            add(Edge.make_bspline(
                [(5.7846679688, 2.4658203125), (5.09765625, 3.4267578125), (3.662109375, 3.4267578125)],
                knots=[0, 0, 0, 1, 1, 1], degree=2))
            add(Edge.make_bspline(
                [(3.662109375, 3.4267578125), (2.1064453125, 3.4267578125), (1.4194335938, 2.5346679687)],
                knots=[0, 0, 0, 1, 1, 1], degree=2))
            add(Edge.make_bspline(
                [(1.4194335938, 2.5346679687), (0.732421875, 1.642578125), (0.732421875, -0.47265625)],
                knots=[0, 0, 0, 1, 1, 1], degree=2))
            add(Edge.make_bspline(
                [(0.732421875, -0.47265625), (0.732421875, -2.587890625), (1.4370117188, -3.4990234375)],
                knots=[0, 0, 0, 1, 1, 1], degree=2))
            add(Edge.make_bspline(
                [(1.4370117188, -3.4990234375), (2.1416015625, -4.41015625), (3.697265625, -4.41015625)],
                knots=[0, 0, 0, 1, 1, 1], degree=2))
            add(Edge.make_bspline(
                [(3.697265625, -4.41015625), (5.09765625, -4.41015625), (5.7846679688, -3.3891601563)],
                knots=[0, 0, 0, 1, 1, 1], degree=2))
            add(Edge.make_bspline(
                [(5.7846679688, -3.3891601563), (6.4716796875, -2.3681640625), (6.4716796875, -0.455078125)],
                knots=[0, 0, 0, 1, 1, 1], degree=2))
            add(Edge.make_bspline(
                [(6.4716796875, -0.455078125), (6.4716796875, 1.5048828125), (5.7846679688, 2.4658203125)],
                knots=[0, 0, 0, 1, 1, 1], degree=2))
        make_face()
    extrude(amount=F3_DEPTH)


solid = f1.part
